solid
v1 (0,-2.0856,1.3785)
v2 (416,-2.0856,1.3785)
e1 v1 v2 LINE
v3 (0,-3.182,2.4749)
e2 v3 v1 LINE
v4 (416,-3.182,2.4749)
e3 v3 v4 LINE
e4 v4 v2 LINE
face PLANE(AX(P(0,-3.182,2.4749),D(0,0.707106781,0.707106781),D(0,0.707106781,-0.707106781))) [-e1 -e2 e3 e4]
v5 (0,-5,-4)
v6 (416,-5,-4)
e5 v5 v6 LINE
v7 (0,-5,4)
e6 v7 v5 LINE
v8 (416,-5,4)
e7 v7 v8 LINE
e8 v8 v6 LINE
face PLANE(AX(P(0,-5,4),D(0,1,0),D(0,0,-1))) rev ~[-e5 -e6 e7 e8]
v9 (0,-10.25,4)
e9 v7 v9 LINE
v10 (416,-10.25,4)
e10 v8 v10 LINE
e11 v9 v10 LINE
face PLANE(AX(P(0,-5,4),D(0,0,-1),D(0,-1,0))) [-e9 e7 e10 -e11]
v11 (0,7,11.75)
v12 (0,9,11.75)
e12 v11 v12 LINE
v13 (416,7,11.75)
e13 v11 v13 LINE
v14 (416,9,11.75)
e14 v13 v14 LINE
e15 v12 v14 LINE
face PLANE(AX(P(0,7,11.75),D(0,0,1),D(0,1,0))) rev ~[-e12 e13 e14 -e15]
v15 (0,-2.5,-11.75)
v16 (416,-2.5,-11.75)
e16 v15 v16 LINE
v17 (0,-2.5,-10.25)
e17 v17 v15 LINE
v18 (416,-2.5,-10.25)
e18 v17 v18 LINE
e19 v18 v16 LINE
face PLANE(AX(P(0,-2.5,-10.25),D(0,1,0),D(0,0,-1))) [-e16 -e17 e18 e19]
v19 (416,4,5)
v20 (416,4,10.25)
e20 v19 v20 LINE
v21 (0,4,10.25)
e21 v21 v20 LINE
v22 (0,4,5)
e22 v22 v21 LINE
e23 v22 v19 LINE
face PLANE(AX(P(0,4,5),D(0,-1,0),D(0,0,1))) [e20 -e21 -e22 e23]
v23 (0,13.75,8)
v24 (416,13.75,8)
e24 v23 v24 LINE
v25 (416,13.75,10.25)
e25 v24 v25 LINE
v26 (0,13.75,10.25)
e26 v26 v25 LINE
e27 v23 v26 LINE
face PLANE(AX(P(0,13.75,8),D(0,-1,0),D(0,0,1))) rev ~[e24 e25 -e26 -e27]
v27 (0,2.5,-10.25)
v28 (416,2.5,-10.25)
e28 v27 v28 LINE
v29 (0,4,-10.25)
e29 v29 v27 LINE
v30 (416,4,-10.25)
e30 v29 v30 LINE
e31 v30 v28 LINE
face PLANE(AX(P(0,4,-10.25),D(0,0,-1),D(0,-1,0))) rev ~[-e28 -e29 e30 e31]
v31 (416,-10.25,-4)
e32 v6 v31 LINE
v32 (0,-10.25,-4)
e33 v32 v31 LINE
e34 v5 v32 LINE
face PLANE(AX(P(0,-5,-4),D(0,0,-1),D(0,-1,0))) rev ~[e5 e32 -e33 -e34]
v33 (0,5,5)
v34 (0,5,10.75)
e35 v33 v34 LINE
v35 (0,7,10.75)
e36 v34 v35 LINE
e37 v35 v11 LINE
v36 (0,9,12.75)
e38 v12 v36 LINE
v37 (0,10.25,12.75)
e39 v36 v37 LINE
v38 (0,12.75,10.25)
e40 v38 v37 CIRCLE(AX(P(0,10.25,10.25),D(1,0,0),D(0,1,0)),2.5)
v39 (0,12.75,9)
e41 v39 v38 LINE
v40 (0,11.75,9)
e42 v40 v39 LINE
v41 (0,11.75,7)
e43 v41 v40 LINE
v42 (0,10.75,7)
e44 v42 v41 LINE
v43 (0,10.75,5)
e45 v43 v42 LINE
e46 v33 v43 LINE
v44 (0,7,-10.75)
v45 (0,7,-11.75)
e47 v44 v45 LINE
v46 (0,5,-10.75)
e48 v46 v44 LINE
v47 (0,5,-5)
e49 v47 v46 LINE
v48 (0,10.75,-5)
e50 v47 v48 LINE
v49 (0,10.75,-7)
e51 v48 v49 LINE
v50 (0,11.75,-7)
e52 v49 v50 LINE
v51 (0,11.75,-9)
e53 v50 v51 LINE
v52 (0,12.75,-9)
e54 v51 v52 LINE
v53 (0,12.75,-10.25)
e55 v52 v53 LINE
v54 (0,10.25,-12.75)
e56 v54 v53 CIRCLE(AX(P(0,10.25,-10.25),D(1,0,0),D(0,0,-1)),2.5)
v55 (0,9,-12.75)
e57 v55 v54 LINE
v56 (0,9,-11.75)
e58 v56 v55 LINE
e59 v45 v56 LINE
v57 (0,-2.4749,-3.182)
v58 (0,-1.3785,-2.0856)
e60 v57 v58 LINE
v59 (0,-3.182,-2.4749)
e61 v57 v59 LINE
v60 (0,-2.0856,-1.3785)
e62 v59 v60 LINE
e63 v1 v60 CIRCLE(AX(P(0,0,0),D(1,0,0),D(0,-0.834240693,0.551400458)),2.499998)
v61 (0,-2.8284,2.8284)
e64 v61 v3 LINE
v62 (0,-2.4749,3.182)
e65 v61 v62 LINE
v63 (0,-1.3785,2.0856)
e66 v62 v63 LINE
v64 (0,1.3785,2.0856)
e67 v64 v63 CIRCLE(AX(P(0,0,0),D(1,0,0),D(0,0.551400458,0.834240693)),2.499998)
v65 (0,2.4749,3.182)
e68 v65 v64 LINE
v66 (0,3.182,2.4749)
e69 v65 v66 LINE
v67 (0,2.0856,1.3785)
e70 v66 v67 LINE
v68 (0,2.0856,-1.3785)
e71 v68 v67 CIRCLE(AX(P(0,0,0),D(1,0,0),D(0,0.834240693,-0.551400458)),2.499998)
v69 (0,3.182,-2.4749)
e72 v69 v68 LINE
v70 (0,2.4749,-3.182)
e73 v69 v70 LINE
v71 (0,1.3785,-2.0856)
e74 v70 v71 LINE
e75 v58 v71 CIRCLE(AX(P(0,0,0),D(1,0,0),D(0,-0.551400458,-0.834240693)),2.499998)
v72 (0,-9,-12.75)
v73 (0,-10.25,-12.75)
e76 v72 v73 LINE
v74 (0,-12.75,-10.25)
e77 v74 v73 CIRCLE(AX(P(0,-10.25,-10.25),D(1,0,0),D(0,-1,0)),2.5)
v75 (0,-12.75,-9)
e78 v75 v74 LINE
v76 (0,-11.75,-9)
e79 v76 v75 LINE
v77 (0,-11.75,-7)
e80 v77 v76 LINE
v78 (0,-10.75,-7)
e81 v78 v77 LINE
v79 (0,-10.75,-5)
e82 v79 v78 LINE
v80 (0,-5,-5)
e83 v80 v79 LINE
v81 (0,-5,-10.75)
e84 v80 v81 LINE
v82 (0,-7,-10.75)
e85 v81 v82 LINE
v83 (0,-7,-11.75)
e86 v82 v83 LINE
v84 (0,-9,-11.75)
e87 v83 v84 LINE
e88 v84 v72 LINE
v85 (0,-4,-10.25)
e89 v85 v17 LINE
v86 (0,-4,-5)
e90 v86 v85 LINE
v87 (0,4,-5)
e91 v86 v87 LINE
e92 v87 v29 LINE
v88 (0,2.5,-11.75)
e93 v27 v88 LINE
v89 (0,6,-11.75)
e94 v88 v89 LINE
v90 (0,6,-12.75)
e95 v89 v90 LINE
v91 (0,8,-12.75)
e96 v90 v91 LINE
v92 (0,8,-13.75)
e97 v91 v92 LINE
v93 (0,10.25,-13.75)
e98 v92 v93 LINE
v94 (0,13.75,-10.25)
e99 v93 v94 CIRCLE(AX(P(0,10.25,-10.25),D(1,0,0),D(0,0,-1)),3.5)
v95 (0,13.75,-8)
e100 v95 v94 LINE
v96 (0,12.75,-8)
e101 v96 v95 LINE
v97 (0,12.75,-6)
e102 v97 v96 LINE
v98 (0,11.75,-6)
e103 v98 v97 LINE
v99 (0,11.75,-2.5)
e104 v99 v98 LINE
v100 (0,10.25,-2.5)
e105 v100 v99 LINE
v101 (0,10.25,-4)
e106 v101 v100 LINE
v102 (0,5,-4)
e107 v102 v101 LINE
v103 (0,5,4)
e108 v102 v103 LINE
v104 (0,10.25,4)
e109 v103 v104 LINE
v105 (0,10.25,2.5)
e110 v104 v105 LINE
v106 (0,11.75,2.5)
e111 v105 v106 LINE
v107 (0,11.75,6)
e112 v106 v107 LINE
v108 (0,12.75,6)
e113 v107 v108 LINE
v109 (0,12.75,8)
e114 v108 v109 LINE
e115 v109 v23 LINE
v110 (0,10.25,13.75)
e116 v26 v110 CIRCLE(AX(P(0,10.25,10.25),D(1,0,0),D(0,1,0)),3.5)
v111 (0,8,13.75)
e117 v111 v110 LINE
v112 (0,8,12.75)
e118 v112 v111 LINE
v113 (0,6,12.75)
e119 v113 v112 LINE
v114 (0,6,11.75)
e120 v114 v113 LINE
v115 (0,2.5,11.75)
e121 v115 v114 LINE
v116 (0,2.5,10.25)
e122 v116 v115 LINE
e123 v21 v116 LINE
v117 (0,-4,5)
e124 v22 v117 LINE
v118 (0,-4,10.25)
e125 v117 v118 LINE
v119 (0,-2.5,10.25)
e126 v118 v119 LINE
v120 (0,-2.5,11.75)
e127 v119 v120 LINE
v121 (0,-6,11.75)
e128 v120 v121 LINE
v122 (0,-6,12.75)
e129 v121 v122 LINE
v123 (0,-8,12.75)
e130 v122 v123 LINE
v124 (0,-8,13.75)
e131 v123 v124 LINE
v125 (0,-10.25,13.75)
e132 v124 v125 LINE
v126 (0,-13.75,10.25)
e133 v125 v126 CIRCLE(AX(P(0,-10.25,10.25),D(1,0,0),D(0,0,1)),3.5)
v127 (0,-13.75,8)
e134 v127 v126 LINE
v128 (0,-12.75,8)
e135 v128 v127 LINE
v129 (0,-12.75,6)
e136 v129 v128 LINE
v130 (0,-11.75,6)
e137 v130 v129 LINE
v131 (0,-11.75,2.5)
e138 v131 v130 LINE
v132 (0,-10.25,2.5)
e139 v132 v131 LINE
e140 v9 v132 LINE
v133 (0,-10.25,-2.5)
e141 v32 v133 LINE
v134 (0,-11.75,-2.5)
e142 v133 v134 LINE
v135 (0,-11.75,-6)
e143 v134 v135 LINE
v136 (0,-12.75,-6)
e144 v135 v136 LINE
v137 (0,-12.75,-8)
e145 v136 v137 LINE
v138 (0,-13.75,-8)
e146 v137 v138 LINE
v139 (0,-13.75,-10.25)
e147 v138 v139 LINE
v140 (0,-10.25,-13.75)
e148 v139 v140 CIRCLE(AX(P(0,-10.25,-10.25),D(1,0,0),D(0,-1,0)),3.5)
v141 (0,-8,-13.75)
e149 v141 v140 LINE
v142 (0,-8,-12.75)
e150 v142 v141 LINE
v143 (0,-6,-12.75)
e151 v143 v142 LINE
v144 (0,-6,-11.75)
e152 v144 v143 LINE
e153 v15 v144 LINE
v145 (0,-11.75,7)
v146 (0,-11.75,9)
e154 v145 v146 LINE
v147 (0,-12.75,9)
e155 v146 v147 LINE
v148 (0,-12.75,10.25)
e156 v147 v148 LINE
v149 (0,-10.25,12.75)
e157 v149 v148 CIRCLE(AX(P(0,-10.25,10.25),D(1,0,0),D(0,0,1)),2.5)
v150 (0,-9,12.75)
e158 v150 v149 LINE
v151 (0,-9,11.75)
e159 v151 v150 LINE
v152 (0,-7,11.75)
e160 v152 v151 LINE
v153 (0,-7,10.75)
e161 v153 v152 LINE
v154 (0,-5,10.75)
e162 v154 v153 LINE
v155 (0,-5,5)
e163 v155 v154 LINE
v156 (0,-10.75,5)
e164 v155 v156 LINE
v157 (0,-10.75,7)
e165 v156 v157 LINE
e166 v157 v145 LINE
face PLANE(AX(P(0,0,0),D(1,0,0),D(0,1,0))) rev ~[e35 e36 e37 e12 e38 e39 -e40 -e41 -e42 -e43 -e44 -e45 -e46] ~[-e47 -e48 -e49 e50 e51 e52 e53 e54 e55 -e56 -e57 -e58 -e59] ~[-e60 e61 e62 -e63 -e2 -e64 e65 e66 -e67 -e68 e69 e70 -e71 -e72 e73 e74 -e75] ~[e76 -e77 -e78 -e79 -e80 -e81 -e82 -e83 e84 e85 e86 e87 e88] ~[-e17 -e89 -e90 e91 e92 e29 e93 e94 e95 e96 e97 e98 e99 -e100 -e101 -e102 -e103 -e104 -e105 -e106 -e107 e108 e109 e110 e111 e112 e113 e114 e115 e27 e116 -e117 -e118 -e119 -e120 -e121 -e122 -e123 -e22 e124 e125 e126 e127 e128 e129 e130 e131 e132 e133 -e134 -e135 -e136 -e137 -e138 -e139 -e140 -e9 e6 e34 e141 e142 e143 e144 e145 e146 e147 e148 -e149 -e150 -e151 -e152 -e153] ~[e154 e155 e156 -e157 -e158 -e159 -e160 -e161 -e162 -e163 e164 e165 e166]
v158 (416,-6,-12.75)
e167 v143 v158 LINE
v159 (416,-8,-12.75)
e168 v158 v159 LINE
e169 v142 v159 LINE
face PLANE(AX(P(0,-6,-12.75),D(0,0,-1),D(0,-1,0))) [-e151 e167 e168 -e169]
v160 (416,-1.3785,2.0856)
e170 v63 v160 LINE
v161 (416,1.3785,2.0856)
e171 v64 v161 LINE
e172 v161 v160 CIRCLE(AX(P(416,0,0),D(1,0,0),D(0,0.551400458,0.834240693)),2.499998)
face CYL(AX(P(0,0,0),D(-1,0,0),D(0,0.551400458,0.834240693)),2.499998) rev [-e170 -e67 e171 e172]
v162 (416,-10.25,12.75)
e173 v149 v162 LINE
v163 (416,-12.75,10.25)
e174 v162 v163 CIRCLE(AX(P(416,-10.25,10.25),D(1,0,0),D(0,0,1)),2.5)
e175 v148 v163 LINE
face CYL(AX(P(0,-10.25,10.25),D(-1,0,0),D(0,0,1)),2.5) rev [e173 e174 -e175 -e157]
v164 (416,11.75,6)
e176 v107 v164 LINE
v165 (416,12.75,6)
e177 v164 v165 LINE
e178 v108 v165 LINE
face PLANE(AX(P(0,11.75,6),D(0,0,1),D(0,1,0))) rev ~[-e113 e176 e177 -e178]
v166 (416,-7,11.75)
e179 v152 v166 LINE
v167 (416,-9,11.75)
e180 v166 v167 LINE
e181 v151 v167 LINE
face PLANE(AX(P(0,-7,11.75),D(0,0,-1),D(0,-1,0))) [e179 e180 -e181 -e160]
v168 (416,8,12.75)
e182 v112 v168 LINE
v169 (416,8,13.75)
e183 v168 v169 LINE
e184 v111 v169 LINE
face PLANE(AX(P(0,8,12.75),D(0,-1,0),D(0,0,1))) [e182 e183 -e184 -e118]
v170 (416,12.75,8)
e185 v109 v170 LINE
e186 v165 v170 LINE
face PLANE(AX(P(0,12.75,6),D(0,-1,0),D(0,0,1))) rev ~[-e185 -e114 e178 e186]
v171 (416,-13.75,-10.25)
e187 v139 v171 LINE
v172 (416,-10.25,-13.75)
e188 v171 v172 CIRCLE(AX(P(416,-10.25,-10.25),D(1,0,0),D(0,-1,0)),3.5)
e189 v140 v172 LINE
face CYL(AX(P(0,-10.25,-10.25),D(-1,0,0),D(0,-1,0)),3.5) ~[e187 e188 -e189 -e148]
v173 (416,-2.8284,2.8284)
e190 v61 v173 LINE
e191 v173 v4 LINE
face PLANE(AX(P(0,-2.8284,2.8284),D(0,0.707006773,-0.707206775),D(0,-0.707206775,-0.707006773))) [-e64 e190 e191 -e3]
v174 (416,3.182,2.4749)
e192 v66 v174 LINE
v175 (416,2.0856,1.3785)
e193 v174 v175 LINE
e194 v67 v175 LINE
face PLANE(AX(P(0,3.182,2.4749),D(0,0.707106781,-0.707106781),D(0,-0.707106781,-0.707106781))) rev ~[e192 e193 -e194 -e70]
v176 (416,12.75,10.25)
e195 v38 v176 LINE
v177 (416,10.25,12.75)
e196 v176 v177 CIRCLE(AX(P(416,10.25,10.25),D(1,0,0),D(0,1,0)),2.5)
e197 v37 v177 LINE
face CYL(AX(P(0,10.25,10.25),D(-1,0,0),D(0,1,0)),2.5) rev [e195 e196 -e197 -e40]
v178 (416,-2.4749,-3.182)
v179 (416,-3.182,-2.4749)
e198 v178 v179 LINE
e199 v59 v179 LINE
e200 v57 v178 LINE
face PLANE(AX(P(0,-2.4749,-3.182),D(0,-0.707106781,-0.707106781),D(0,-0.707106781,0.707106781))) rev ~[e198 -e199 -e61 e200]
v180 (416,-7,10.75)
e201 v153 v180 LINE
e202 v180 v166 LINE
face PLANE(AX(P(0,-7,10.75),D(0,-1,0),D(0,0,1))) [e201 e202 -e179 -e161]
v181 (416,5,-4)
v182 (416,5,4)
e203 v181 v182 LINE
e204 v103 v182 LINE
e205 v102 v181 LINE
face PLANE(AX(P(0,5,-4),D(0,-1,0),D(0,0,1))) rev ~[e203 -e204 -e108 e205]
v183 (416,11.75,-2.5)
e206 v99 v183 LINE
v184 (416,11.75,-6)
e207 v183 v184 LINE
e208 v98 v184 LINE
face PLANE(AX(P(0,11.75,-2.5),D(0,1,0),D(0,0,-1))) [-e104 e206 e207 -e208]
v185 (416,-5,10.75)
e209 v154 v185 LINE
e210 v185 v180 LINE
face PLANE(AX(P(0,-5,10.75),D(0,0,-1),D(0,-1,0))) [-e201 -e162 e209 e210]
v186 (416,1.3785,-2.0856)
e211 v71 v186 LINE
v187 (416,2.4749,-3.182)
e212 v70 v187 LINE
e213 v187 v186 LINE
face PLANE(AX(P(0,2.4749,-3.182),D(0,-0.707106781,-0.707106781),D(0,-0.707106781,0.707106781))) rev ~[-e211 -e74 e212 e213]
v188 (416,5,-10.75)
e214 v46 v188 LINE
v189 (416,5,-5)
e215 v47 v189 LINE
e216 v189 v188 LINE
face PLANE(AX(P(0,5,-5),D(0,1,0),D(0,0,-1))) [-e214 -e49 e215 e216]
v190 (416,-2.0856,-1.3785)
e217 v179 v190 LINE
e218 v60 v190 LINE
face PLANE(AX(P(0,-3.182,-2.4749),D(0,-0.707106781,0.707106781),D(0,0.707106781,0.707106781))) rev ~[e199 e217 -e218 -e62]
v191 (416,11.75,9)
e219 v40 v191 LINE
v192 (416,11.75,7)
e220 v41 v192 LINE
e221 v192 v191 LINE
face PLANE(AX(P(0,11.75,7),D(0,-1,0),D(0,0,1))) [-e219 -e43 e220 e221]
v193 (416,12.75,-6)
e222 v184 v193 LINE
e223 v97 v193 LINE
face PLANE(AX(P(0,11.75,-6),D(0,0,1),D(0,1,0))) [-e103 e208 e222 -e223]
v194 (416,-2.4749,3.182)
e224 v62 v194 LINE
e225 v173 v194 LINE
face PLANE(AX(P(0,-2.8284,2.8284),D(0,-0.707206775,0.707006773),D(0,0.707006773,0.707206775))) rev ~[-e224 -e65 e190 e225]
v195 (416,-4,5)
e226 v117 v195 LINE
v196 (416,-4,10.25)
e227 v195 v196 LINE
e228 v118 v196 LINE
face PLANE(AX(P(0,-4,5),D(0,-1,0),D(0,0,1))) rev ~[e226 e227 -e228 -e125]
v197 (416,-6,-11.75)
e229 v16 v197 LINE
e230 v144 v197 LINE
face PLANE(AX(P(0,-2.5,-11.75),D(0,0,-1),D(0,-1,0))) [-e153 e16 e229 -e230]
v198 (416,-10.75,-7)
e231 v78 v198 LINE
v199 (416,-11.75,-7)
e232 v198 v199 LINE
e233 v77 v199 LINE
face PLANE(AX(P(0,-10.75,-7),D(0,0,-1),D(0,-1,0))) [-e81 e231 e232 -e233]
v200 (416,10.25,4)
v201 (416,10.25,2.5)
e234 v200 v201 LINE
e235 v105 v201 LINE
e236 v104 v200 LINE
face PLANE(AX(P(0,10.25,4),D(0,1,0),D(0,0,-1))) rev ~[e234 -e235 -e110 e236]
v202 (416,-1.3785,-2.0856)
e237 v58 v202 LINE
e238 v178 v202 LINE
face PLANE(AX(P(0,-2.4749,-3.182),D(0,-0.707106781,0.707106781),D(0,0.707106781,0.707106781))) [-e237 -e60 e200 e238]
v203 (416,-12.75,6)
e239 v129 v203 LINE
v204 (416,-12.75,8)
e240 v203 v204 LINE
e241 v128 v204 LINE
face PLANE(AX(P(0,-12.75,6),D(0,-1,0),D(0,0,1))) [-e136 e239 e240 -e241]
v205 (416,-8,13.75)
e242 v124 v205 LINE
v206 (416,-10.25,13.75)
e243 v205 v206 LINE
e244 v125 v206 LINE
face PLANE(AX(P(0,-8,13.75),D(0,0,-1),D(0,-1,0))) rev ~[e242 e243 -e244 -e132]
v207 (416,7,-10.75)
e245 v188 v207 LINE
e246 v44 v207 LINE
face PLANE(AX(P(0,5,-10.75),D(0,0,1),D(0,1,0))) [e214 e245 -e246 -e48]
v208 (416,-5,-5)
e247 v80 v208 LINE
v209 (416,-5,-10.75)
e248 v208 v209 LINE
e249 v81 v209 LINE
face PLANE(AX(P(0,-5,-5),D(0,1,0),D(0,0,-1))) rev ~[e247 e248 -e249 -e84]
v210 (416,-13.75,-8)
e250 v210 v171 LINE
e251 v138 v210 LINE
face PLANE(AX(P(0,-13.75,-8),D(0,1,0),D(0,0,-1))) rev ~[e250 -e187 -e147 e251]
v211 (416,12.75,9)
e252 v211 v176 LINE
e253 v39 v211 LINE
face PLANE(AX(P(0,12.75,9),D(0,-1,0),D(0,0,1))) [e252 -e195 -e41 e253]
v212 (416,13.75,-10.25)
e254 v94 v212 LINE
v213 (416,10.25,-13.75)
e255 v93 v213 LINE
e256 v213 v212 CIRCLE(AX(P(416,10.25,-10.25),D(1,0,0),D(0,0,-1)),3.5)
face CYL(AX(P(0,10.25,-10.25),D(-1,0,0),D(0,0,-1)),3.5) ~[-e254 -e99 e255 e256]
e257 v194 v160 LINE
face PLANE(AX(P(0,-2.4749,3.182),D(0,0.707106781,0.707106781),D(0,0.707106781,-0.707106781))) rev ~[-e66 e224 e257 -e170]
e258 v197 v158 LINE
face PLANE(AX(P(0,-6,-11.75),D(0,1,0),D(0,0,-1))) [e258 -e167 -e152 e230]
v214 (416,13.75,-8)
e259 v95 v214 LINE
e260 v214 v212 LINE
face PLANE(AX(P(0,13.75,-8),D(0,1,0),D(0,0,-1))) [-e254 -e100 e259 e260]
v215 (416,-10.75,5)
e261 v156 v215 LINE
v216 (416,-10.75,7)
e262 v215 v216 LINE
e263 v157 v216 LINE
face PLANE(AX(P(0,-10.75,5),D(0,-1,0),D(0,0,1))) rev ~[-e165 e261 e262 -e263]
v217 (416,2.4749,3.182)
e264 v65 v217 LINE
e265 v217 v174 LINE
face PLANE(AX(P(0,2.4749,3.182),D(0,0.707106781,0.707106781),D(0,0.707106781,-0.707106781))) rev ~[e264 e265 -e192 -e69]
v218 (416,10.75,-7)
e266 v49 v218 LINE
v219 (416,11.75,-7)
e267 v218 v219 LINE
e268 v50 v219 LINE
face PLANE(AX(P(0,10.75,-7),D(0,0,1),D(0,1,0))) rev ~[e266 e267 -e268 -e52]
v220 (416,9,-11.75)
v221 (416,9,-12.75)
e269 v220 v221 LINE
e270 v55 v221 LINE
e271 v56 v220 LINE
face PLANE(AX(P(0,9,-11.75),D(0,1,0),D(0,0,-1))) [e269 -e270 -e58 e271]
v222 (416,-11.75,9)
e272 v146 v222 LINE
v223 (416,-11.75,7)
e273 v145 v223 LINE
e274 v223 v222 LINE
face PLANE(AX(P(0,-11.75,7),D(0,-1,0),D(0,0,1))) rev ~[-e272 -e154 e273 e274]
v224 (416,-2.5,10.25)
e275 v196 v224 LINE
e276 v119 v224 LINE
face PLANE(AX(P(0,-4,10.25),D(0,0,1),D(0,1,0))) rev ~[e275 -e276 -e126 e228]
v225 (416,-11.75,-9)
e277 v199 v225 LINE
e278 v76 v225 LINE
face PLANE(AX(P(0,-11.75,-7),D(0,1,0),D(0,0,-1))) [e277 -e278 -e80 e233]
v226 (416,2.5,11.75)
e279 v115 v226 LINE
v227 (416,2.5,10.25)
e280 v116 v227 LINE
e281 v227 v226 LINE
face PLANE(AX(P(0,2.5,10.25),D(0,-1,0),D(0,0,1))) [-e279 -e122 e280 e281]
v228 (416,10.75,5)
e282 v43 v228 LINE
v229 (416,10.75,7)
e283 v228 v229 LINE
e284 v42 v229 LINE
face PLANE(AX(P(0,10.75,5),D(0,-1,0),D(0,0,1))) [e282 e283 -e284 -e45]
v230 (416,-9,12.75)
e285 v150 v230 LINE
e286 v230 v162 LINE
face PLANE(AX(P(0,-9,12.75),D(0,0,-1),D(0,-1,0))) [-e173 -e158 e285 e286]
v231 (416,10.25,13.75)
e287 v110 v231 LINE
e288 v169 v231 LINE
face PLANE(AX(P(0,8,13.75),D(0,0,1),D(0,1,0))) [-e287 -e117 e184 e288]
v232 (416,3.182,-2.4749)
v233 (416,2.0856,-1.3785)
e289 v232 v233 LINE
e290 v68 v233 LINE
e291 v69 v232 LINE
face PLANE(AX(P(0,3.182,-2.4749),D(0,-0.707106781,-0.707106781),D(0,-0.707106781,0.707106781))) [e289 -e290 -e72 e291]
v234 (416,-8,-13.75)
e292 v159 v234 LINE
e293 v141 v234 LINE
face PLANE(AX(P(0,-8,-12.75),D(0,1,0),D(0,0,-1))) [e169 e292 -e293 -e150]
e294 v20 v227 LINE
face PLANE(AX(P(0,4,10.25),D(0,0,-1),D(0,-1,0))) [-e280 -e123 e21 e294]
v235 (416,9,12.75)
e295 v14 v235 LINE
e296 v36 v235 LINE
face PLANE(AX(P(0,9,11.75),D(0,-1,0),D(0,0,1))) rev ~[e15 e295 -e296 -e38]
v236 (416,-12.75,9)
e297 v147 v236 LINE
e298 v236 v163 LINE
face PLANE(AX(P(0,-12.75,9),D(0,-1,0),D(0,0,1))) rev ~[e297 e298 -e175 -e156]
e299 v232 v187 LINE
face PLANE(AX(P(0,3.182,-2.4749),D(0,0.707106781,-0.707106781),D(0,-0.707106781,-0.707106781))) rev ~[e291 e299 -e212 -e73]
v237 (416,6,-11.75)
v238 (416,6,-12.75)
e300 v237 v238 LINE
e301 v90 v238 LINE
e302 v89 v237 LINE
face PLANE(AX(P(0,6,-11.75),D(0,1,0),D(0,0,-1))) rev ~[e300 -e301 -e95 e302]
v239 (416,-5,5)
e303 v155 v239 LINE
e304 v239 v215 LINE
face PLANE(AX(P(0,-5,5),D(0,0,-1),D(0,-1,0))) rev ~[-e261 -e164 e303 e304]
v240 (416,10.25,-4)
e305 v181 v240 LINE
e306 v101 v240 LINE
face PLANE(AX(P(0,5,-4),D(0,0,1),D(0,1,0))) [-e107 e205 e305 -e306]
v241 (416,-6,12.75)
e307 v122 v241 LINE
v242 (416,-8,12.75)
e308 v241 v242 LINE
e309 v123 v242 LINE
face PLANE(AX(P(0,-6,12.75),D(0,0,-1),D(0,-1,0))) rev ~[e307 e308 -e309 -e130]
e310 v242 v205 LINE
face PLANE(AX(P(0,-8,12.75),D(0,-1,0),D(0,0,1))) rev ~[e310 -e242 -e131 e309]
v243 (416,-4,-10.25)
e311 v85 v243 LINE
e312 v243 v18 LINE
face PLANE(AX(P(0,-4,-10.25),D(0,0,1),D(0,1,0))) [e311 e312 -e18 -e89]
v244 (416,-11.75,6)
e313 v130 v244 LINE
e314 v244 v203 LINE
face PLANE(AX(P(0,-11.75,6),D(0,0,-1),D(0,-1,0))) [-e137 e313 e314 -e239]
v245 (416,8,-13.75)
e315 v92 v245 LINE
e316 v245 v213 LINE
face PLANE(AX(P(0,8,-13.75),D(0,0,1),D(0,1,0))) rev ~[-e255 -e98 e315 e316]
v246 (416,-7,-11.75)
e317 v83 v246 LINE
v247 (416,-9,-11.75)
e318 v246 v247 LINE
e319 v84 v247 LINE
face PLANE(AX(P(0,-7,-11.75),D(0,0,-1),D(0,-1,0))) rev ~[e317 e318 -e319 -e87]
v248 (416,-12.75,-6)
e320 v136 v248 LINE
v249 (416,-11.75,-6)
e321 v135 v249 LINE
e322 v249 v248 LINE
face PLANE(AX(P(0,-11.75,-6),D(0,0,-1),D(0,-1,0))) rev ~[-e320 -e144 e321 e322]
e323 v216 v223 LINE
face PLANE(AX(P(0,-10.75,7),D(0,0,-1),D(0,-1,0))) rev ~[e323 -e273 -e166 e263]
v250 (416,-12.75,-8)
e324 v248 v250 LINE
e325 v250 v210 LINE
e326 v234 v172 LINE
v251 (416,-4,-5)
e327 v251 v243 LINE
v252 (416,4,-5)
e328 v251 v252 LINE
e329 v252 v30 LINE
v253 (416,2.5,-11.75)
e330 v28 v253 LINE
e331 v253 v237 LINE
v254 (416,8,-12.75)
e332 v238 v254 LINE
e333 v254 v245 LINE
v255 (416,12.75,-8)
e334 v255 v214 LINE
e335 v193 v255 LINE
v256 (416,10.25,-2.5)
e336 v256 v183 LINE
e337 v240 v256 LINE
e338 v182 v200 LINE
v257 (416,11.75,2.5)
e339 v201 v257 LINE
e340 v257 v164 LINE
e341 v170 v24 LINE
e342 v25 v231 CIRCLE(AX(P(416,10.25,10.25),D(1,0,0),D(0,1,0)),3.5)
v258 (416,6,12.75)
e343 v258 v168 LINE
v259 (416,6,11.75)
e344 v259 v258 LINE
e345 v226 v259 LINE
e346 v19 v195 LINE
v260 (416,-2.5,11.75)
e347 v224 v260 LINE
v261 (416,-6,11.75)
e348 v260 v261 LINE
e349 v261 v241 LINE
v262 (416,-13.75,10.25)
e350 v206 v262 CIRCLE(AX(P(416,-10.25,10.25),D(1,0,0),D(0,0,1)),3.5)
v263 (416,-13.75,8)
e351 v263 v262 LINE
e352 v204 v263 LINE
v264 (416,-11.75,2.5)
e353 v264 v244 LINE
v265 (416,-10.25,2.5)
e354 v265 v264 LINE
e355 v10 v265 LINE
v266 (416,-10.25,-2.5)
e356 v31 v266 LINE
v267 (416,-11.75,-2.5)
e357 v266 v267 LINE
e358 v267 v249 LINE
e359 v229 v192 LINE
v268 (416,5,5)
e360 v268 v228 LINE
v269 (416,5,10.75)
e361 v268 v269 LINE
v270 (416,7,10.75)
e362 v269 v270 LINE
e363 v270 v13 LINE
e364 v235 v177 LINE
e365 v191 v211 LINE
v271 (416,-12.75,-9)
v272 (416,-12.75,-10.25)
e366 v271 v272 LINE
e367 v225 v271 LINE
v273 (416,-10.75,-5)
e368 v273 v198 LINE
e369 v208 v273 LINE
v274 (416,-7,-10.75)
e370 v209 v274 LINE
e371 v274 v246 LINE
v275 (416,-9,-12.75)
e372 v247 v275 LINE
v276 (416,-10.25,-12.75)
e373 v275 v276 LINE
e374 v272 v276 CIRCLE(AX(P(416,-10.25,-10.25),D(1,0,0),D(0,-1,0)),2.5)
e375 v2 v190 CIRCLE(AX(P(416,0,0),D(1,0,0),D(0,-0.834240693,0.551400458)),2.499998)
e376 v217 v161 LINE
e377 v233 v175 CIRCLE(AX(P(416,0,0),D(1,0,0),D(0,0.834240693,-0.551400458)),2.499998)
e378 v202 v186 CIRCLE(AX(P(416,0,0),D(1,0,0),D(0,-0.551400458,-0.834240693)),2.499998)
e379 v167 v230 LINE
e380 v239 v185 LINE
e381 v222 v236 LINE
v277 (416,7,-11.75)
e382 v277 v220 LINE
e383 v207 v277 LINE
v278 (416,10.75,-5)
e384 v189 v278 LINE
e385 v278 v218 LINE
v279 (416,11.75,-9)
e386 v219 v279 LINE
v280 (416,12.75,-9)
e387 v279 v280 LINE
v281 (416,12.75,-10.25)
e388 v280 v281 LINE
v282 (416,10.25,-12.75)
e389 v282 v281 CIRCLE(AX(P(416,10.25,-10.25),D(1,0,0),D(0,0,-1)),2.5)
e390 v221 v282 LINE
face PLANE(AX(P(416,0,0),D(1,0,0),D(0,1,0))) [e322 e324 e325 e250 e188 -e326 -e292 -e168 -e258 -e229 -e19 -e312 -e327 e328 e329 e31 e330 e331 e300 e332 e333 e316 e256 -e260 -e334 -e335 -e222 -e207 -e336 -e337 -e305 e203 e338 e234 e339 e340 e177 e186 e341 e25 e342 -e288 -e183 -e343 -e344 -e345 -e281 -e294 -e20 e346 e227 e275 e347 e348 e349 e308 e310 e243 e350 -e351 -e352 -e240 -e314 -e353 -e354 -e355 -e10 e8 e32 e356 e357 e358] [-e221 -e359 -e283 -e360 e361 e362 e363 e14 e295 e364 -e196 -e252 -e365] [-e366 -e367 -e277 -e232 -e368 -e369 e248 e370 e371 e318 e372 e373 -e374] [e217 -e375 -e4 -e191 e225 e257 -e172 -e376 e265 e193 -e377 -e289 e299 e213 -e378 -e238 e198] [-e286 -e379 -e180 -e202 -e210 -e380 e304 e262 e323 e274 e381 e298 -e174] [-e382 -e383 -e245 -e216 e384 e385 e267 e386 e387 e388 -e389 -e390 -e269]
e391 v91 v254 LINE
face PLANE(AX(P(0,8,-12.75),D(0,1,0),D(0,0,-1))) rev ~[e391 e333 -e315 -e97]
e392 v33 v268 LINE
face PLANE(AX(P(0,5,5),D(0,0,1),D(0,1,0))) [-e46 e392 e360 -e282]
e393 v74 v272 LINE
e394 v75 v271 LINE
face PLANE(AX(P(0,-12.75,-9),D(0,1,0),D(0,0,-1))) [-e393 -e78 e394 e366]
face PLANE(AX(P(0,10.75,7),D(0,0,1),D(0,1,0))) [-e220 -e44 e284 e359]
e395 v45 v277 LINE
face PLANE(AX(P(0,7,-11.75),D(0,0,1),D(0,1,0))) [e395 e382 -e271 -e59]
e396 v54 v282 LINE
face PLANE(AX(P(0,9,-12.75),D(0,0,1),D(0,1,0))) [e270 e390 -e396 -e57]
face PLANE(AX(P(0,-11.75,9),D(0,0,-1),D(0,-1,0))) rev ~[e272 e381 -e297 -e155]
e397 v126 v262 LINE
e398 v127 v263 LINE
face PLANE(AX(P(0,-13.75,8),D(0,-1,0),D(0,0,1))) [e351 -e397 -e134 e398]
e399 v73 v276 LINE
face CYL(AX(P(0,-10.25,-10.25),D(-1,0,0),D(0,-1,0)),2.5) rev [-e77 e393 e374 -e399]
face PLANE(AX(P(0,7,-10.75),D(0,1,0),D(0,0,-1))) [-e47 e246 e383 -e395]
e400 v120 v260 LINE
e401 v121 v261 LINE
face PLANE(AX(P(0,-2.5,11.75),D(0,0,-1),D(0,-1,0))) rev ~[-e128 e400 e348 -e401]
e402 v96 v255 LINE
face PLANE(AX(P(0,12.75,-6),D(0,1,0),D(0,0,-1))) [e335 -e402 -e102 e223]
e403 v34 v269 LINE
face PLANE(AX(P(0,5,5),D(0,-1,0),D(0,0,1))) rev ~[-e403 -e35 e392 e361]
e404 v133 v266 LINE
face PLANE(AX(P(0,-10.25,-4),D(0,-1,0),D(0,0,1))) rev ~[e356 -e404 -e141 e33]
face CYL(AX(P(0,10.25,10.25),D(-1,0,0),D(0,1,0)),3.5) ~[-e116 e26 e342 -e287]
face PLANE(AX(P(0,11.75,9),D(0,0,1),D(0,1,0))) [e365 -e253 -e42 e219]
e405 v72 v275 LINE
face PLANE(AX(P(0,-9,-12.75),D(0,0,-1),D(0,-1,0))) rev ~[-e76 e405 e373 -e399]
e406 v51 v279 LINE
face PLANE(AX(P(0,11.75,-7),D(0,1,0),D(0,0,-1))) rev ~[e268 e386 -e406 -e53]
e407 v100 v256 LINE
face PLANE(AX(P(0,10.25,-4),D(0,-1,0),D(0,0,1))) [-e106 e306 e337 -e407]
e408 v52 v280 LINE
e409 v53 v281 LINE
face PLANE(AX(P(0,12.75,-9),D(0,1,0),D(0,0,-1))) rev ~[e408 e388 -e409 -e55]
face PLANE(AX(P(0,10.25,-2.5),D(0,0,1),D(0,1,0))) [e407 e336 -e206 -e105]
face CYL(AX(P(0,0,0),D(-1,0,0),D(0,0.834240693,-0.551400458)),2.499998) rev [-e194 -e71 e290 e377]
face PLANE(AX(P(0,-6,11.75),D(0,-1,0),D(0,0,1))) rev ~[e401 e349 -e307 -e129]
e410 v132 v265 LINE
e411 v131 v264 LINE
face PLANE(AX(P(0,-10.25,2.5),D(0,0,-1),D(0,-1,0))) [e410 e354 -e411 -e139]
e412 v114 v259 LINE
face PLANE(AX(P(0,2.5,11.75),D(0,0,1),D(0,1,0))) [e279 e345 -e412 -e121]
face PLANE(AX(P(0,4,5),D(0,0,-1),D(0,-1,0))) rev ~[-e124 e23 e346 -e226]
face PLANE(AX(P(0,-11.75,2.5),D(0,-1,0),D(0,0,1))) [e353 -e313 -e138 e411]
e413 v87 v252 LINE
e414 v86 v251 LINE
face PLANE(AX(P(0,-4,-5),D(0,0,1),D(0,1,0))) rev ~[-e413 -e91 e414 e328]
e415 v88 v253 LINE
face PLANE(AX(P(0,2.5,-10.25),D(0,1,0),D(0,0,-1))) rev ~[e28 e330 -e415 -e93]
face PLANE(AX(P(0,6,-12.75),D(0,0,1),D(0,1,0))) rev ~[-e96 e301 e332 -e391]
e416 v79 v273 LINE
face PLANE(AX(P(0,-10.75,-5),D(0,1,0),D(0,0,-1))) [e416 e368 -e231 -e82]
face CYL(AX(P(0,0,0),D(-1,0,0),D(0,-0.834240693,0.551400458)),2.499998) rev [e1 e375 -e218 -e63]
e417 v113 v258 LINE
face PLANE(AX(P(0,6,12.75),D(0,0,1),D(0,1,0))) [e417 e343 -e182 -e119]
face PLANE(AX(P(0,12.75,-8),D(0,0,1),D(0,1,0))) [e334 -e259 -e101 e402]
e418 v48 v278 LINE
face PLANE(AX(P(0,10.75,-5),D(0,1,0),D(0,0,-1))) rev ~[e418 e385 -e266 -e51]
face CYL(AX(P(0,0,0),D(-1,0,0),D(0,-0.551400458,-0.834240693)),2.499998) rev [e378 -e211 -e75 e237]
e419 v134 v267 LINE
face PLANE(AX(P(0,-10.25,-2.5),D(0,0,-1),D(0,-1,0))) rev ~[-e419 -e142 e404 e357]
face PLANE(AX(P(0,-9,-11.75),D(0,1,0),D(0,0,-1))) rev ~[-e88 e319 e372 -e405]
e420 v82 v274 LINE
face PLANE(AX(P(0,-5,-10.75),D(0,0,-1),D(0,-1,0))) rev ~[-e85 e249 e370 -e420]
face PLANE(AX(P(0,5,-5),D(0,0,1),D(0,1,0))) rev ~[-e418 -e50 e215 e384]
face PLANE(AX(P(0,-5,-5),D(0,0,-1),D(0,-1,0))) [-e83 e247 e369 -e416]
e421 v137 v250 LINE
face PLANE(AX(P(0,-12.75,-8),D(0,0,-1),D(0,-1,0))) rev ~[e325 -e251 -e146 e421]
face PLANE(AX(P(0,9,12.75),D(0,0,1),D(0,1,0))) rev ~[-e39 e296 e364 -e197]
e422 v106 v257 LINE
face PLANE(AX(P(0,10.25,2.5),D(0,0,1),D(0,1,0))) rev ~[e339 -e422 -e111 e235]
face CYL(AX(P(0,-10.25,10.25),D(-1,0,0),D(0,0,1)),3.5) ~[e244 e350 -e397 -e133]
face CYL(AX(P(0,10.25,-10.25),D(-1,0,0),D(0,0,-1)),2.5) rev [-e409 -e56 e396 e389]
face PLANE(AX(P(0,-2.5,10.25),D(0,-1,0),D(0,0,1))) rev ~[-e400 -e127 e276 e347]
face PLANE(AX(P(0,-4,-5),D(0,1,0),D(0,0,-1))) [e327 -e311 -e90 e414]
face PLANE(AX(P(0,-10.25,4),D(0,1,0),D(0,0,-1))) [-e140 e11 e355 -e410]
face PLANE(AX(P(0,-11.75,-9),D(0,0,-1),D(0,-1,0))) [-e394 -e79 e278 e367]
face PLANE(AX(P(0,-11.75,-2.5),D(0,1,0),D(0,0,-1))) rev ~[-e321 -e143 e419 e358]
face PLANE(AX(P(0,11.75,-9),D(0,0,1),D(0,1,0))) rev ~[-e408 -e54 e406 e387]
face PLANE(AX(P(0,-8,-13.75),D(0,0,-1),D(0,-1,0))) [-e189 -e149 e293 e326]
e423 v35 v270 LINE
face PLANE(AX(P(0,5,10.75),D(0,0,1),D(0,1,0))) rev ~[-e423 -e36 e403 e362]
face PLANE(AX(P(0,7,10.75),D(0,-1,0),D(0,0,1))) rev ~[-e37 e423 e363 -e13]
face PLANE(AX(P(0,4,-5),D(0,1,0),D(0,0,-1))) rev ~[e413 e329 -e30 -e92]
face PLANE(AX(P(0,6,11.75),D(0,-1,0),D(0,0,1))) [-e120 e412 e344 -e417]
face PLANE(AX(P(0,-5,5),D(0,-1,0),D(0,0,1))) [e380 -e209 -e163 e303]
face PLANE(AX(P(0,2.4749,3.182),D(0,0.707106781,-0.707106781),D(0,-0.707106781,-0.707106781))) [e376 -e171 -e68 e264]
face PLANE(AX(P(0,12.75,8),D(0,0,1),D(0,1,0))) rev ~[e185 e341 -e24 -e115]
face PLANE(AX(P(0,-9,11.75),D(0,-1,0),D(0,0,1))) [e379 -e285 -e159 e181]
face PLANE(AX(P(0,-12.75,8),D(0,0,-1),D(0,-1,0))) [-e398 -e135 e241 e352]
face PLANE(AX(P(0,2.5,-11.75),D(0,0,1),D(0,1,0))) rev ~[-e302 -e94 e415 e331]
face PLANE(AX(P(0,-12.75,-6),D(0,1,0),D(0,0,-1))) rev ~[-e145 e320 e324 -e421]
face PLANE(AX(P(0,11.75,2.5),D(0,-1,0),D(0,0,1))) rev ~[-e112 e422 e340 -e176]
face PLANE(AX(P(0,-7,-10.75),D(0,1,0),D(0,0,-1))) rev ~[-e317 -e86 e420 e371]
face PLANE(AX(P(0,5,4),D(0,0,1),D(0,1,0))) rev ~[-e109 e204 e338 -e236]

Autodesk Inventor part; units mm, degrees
ref_plane "YZ Plane" through (0, 0, 0) normal (1, 0, 0) x (0, 1, 0)
ref_plane "XZ Plane" through (0, 0, 0) normal (0, 1, 0) x (-1, 0, 0)
ref_plane "XY Plane" through (0, 0, 0) normal (0, 0, 1) x (1, 0, 0)
sketch "Sketch1" plane through (0, 0, 0) normal (1, 0, 0) x (0, 1, 0)
  line L0 (0, 25.1698) -> (0, -25.1698) construction
  line L1 (-25.1698, 0) -> (25.1698, 0) construction
  line L2 (-13.75, 13.75) -> (13.75, 13.75) construction
  line L3 (13.75, 13.75) -> (13.75, -13.75) construction
  line L4 (13.75, -13.75) -> (-13.75, -13.75) construction
  line L5 (-13.75, -13.75) -> (-13.75, 13.75) construction
  line L6 (-17.9785, 13.9213) -> (17.1336, 13.9213) construction
  line L7 (17.1336, 13.9213) -> (17.1336, -14.9109) construction
  line L8 (17.1336, -14.9109) -> (-17.9785, -14.9109) construction
  line L9 (-17.9785, -14.9109) -> (-17.9785, 13.9213) construction
  line L10 (5, -5) -> (-5, -5) construction
  line L11 (-5, -5) -> (-5, 5) construction
  line L12 (-5, 5) -> (5, 5) construction
  line L13 (5, 5) -> (5, -5) construction
  line L14 (5, -5) -> (-5, 5) construction
  line L15 (-5, -5) -> (5, 5) construction
  line L16 (-5, 4) -> (-10.25, 4)
  line L17 (-10.25, 4) -> (-10.25, 2.5)
  line L18 (-10.25, 2.5) -> (-11.75, 2.5)
  line L19 (-11.75, 2.5) -> (-11.75, 6)
  line L20 (-11.75, 6) -> (-12.75, 6)
  line L21 (-12.75, 6) -> (-12.75, 8)
  line L22 (-12.75, 8) -> (-13.75, 8)
  line L23 (-13.75, 13.75) -> (0, 0) construction
  line L24 (-4, 5) -> (-4, 10.25)
  line L25 (-4, 10.25) -> (-2.5, 10.25)
  line L26 (-2.5, 10.25) -> (-2.5, 11.75)
  line L27 (-2.5, 11.75) -> (-6, 11.75)
  line L28 (-6, 11.75) -> (-6, 12.75)
  line L29 (-6, 12.75) -> (-8, 12.75)
  line L30 (-8, 12.75) -> (-8, 13.75)
  line L31 (-13.75, 8) -> (-13.75, 10.25)
  line L32 (-8, 13.75) -> (-10.25, 13.75)
  arc A0 (-10.25, 13.75) -> (-13.75, 10.25) centre (-10.25, 10.25) ccw
  line L33 (-5, 5) -> (-10.75, 5)
  line L34 (-10.75, 5) -> (-10.75, 7)
  line L35 (-10.75, 7) -> (-11.75, 7)
  line L36 (-11.75, 7) -> (-11.75, 9)
  line L37 (-11.75, 9) -> (-12.75, 9)
  line L38 (-5, 5) -> (-5, 10.75)
  line L39 (-5, 10.75) -> (-7, 10.75)
  line L40 (-7, 10.75) -> (-7, 11.75)
  line L41 (-7, 11.75) -> (-9, 11.75)
  line L42 (-9, 11.75) -> (-9, 12.75)
  line L43 (-12.75, 9) -> (-12.75, 10.25)
  line L44 (-9, 12.75) -> (-10.25, 12.75)
  arc A1 (-10.25, 12.75) -> (-12.75, 10.25) centre (-10.25, 10.25) ccw
  line L45 (-4, -5) -> (-4, -10.25)
  line L46 (-4, -10.25) -> (-2.5, -10.25)
  line L47 (-2.5, -10.25) -> (-2.5, -11.75)
  line L48 (-2.5, -11.75) -> (-6, -11.75)
  line L49 (-6, -11.75) -> (-6, -12.75)
  line L50 (-6, -12.75) -> (-8, -12.75)
  line L51 (-8, -12.75) -> (-8, -13.75)
  line L52 (-10.25, -4) -> (-10.25, -2.5)
  line L53 (-5, -4) -> (-10.25, -4)
  line L54 (-10.25, -2.5) -> (-11.75, -2.5)
  line L55 (-11.75, -6) -> (-12.75, -6)
  line L56 (-11.75, -2.5) -> (-11.75, -6)
  line L57 (-12.75, -6) -> (-12.75, -8)
  line L58 (-12.75, -8) -> (-13.75, -8)
  line L59 (-8, -13.75) -> (-10.25, -13.75)
  line L60 (-13.75, -8) -> (-13.75, -10.25)
  arc A2 (-13.75, -10.25) -> (-10.25, -13.75) centre (-10.25, -10.25) ccw
  line L61 (-5, -5) -> (-5, -10.75)
  line L62 (-5, -10.75) -> (-7, -10.75)
  line L63 (-7, -10.75) -> (-7, -11.75)
  line L64 (-7, -11.75) -> (-9, -11.75)
  line L65 (-9, -11.75) -> (-9, -12.75)
  line L66 (-11.75, -9) -> (-12.75, -9)
  line L67 (-11.75, -7) -> (-11.75, -9)
  line L68 (-10.75, -7) -> (-11.75, -7)
  line L69 (-10.75, -5) -> (-10.75, -7)
  line L70 (-5, -5) -> (-10.75, -5)
  line L71 (-9, -12.75) -> (-10.25, -12.75)
  line L72 (-12.75, -9) -> (-12.75, -10.25)
  arc A3 (-12.75, -10.25) -> (-10.25, -12.75) centre (-10.25, -10.25) ccw
  line L73 (5, -4) -> (10.25, -4)
  line L74 (10.25, -4) -> (10.25, -2.5)
  line L75 (10.25, -2.5) -> (11.75, -2.5)
  line L76 (11.75, -2.5) -> (11.75, -6)
  line L77 (11.75, -6) -> (12.75, -6)
  line L78 (12.75, -6) -> (12.75, -8)
  line L79 (12.75, -8) -> (13.75, -8)
  line L80 (4, -10.25) -> (2.5, -10.25)
  line L81 (4, -5) -> (4, -10.25)
  line L82 (2.5, -10.25) -> (2.5, -11.75)
  line L83 (6, -11.75) -> (6, -12.75)
  line L84 (2.5, -11.75) -> (6, -11.75)
  line L85 (6, -12.75) -> (8, -12.75)
  line L86 (8, -12.75) -> (8, -13.75)
  line L87 (13.75, -8) -> (13.75, -10.25)
  line L88 (8, -13.75) -> (10.25, -13.75)
  arc A4 (10.25, -13.75) -> (13.75, -10.25) centre (10.25, -10.25) ccw
  line L89 (5, -5) -> (10.75, -5)
  line L90 (10.75, -5) -> (10.75, -7)
  line L91 (10.75, -7) -> (11.75, -7)
  line L92 (11.75, -7) -> (11.75, -9)
  line L93 (11.75, -9) -> (12.75, -9)
  line L94 (9, -11.75) -> (9, -12.75)
  line L95 (7, -11.75) -> (9, -11.75)
  line L96 (7, -10.75) -> (7, -11.75)
  line L97 (5, -10.75) -> (7, -10.75)
  line L98 (5, -5) -> (5, -10.75)
  line L99 (12.75, -9) -> (12.75, -10.25)
  line L100 (9, -12.75) -> (10.25, -12.75)
  arc A5 (10.25, -12.75) -> (12.75, -10.25) centre (10.25, -10.25) ccw
  line L101 (4, 5) -> (4, 10.25)
  line L102 (4, 10.25) -> (2.5, 10.25)
  line L103 (2.5, 10.25) -> (2.5, 11.75)
  line L104 (2.5, 11.75) -> (6, 11.75)
  line L105 (6, 11.75) -> (6, 12.75)
  line L106 (6, 12.75) -> (8, 12.75)
  line L107 (8, 12.75) -> (8, 13.75)
  line L108 (10.25, 4) -> (10.25, 2.5)
  line L109 (5, 4) -> (10.25, 4)
  line L110 (10.25, 2.5) -> (11.75, 2.5)
  line L111 (11.75, 6) -> (12.75, 6)
  line L112 (11.75, 2.5) -> (11.75, 6)
  line L113 (12.75, 6) -> (12.75, 8)
  line L114 (12.75, 8) -> (13.75, 8)
  line L115 (8, 13.75) -> (10.25, 13.75)
  line L116 (13.75, 8) -> (13.75, 10.25)
  arc A6 (13.75, 10.25) -> (10.25, 13.75) centre (10.25, 10.25) ccw
  line L117 (5, 5) -> (5, 10.75)
  line L118 (5, 10.75) -> (7, 10.75)
  line L119 (7, 10.75) -> (7, 11.75)
  line L120 (7, 11.75) -> (9, 11.75)
  line L121 (9, 11.75) -> (9, 12.75)
  line L122 (11.75, 9) -> (12.75, 9)
  line L123 (11.75, 7) -> (11.75, 9)
  line L124 (10.75, 7) -> (11.75, 7)
  line L125 (10.75, 5) -> (10.75, 7)
  line L126 (5, 5) -> (10.75, 5)
  line L127 (9, 12.75) -> (10.25, 12.75)
  line L128 (12.75, 9) -> (12.75, 10.25)
  arc A7 (12.75, 10.25) -> (10.25, 12.75) centre (10.25, 10.25) ccw
  line L129 (0, 0) -> (-2.8284, 2.8284) construction
  line L130 (-2.8284, 2.8284) -> (-3.182, 2.4749)
  line L131 (-3.182, 2.4749) -> (-2.0856, 1.3785)
  line L132 (-2.8284, 2.8284) -> (-2.4749, 3.182)
  line L133 (-2.4749, 3.182) -> (-1.3785, 2.0856)
  line L134 (-3.182, 2.4749) -> (-2.4749, 3.182)
  line L135 (-2.4749, -3.182) -> (-1.3785, -2.0856)
  line L136 (-3.182, -2.4749) -> (-2.0856, -1.3785)
  line L137 (-2.4749, -3.182) -> (-3.182, -2.4749)
  line L138 (3.182, -2.4749) -> (2.0856, -1.3785)
  line L139 (2.4749, -3.182) -> (1.3785, -2.0856)
  line L140 (3.182, -2.4749) -> (2.4749, -3.182)
  line L141 (2.4749, 3.182) -> (1.3785, 2.0856)
  line L142 (3.182, 2.4749) -> (2.0856, 1.3785)
  line L143 (2.4749, 3.182) -> (3.182, 2.4749)
  arc A8 (-2.0856, 1.3785) -> (-2.0856, -1.3785) centre (0, 0) ccw
  arc A9 (-1.3785, -2.0856) -> (1.3785, -2.0856) centre (0, 0) ccw
  arc A10 (2.0856, -1.3785) -> (2.0856, 1.3785) centre (0, 0) ccw
  arc A11 (1.3785, 2.0856) -> (-1.3785, 2.0856) centre (0, 0) ccw
  line L144 (-5, 4) -> (-5, -4)
  line L145 (-4, -5) -> (4, -5)
  line L146 (5, -4) -> (5, 4)
  line L147 (4, 5) -> (-4, 5)
  point P0 (-12.75, 12.75)
  point P1 (-13.75, -13.75)
  point P2 (-13.9213, -17.9785)
  point P3 (-12.75, -12.75)
  point P4 (13.75, -13.75)
  point P5 (17.9785, -13.9213)
  point P6 (12.75, -12.75)
  point P7 (13.75, 13.75)
  point P8 (13.9213, 17.9785)
  point P9 (12.75, 12.75)
  dimension "d0" = 27.5
  dimension "d1" = 27.5
  dimension "d67" = 10
  dimension "d68" = 10
  dimension "d69" = 1
  dimension "d73" = 1.5
  dimension "d74" = 3.5
  dimension "d75" = 1
  dimension "d76" = 2
  dimension "d77" = 1
  dimension "d78" = 1.5
  dimension "d80" = 3.5
  dimension "d81" = 1
  dimension "d82" = 1
  dimension "d83" = 1
  dimension "d84" = 1
  dimension "d85" = 1
  dimension "d88" = 2.5
  dimension "d91" = 360
  dimension "d96" = 4
  dimension "d97" = 0.5
  dimension "d98" = 0.5
  dimension "d102" = 360
  dimension "d120" = 2.5
extrude "Extrusion1" add sketch "Sketch1" along normal blind 416
ref_plane "Work Plane1" through (208, 0, 0) normal (1, 0, 0) x (0, 0, -1)
equation "\"d1\" = d0"
equation "\"d68\" = d67"
properties part number "profilato416"
